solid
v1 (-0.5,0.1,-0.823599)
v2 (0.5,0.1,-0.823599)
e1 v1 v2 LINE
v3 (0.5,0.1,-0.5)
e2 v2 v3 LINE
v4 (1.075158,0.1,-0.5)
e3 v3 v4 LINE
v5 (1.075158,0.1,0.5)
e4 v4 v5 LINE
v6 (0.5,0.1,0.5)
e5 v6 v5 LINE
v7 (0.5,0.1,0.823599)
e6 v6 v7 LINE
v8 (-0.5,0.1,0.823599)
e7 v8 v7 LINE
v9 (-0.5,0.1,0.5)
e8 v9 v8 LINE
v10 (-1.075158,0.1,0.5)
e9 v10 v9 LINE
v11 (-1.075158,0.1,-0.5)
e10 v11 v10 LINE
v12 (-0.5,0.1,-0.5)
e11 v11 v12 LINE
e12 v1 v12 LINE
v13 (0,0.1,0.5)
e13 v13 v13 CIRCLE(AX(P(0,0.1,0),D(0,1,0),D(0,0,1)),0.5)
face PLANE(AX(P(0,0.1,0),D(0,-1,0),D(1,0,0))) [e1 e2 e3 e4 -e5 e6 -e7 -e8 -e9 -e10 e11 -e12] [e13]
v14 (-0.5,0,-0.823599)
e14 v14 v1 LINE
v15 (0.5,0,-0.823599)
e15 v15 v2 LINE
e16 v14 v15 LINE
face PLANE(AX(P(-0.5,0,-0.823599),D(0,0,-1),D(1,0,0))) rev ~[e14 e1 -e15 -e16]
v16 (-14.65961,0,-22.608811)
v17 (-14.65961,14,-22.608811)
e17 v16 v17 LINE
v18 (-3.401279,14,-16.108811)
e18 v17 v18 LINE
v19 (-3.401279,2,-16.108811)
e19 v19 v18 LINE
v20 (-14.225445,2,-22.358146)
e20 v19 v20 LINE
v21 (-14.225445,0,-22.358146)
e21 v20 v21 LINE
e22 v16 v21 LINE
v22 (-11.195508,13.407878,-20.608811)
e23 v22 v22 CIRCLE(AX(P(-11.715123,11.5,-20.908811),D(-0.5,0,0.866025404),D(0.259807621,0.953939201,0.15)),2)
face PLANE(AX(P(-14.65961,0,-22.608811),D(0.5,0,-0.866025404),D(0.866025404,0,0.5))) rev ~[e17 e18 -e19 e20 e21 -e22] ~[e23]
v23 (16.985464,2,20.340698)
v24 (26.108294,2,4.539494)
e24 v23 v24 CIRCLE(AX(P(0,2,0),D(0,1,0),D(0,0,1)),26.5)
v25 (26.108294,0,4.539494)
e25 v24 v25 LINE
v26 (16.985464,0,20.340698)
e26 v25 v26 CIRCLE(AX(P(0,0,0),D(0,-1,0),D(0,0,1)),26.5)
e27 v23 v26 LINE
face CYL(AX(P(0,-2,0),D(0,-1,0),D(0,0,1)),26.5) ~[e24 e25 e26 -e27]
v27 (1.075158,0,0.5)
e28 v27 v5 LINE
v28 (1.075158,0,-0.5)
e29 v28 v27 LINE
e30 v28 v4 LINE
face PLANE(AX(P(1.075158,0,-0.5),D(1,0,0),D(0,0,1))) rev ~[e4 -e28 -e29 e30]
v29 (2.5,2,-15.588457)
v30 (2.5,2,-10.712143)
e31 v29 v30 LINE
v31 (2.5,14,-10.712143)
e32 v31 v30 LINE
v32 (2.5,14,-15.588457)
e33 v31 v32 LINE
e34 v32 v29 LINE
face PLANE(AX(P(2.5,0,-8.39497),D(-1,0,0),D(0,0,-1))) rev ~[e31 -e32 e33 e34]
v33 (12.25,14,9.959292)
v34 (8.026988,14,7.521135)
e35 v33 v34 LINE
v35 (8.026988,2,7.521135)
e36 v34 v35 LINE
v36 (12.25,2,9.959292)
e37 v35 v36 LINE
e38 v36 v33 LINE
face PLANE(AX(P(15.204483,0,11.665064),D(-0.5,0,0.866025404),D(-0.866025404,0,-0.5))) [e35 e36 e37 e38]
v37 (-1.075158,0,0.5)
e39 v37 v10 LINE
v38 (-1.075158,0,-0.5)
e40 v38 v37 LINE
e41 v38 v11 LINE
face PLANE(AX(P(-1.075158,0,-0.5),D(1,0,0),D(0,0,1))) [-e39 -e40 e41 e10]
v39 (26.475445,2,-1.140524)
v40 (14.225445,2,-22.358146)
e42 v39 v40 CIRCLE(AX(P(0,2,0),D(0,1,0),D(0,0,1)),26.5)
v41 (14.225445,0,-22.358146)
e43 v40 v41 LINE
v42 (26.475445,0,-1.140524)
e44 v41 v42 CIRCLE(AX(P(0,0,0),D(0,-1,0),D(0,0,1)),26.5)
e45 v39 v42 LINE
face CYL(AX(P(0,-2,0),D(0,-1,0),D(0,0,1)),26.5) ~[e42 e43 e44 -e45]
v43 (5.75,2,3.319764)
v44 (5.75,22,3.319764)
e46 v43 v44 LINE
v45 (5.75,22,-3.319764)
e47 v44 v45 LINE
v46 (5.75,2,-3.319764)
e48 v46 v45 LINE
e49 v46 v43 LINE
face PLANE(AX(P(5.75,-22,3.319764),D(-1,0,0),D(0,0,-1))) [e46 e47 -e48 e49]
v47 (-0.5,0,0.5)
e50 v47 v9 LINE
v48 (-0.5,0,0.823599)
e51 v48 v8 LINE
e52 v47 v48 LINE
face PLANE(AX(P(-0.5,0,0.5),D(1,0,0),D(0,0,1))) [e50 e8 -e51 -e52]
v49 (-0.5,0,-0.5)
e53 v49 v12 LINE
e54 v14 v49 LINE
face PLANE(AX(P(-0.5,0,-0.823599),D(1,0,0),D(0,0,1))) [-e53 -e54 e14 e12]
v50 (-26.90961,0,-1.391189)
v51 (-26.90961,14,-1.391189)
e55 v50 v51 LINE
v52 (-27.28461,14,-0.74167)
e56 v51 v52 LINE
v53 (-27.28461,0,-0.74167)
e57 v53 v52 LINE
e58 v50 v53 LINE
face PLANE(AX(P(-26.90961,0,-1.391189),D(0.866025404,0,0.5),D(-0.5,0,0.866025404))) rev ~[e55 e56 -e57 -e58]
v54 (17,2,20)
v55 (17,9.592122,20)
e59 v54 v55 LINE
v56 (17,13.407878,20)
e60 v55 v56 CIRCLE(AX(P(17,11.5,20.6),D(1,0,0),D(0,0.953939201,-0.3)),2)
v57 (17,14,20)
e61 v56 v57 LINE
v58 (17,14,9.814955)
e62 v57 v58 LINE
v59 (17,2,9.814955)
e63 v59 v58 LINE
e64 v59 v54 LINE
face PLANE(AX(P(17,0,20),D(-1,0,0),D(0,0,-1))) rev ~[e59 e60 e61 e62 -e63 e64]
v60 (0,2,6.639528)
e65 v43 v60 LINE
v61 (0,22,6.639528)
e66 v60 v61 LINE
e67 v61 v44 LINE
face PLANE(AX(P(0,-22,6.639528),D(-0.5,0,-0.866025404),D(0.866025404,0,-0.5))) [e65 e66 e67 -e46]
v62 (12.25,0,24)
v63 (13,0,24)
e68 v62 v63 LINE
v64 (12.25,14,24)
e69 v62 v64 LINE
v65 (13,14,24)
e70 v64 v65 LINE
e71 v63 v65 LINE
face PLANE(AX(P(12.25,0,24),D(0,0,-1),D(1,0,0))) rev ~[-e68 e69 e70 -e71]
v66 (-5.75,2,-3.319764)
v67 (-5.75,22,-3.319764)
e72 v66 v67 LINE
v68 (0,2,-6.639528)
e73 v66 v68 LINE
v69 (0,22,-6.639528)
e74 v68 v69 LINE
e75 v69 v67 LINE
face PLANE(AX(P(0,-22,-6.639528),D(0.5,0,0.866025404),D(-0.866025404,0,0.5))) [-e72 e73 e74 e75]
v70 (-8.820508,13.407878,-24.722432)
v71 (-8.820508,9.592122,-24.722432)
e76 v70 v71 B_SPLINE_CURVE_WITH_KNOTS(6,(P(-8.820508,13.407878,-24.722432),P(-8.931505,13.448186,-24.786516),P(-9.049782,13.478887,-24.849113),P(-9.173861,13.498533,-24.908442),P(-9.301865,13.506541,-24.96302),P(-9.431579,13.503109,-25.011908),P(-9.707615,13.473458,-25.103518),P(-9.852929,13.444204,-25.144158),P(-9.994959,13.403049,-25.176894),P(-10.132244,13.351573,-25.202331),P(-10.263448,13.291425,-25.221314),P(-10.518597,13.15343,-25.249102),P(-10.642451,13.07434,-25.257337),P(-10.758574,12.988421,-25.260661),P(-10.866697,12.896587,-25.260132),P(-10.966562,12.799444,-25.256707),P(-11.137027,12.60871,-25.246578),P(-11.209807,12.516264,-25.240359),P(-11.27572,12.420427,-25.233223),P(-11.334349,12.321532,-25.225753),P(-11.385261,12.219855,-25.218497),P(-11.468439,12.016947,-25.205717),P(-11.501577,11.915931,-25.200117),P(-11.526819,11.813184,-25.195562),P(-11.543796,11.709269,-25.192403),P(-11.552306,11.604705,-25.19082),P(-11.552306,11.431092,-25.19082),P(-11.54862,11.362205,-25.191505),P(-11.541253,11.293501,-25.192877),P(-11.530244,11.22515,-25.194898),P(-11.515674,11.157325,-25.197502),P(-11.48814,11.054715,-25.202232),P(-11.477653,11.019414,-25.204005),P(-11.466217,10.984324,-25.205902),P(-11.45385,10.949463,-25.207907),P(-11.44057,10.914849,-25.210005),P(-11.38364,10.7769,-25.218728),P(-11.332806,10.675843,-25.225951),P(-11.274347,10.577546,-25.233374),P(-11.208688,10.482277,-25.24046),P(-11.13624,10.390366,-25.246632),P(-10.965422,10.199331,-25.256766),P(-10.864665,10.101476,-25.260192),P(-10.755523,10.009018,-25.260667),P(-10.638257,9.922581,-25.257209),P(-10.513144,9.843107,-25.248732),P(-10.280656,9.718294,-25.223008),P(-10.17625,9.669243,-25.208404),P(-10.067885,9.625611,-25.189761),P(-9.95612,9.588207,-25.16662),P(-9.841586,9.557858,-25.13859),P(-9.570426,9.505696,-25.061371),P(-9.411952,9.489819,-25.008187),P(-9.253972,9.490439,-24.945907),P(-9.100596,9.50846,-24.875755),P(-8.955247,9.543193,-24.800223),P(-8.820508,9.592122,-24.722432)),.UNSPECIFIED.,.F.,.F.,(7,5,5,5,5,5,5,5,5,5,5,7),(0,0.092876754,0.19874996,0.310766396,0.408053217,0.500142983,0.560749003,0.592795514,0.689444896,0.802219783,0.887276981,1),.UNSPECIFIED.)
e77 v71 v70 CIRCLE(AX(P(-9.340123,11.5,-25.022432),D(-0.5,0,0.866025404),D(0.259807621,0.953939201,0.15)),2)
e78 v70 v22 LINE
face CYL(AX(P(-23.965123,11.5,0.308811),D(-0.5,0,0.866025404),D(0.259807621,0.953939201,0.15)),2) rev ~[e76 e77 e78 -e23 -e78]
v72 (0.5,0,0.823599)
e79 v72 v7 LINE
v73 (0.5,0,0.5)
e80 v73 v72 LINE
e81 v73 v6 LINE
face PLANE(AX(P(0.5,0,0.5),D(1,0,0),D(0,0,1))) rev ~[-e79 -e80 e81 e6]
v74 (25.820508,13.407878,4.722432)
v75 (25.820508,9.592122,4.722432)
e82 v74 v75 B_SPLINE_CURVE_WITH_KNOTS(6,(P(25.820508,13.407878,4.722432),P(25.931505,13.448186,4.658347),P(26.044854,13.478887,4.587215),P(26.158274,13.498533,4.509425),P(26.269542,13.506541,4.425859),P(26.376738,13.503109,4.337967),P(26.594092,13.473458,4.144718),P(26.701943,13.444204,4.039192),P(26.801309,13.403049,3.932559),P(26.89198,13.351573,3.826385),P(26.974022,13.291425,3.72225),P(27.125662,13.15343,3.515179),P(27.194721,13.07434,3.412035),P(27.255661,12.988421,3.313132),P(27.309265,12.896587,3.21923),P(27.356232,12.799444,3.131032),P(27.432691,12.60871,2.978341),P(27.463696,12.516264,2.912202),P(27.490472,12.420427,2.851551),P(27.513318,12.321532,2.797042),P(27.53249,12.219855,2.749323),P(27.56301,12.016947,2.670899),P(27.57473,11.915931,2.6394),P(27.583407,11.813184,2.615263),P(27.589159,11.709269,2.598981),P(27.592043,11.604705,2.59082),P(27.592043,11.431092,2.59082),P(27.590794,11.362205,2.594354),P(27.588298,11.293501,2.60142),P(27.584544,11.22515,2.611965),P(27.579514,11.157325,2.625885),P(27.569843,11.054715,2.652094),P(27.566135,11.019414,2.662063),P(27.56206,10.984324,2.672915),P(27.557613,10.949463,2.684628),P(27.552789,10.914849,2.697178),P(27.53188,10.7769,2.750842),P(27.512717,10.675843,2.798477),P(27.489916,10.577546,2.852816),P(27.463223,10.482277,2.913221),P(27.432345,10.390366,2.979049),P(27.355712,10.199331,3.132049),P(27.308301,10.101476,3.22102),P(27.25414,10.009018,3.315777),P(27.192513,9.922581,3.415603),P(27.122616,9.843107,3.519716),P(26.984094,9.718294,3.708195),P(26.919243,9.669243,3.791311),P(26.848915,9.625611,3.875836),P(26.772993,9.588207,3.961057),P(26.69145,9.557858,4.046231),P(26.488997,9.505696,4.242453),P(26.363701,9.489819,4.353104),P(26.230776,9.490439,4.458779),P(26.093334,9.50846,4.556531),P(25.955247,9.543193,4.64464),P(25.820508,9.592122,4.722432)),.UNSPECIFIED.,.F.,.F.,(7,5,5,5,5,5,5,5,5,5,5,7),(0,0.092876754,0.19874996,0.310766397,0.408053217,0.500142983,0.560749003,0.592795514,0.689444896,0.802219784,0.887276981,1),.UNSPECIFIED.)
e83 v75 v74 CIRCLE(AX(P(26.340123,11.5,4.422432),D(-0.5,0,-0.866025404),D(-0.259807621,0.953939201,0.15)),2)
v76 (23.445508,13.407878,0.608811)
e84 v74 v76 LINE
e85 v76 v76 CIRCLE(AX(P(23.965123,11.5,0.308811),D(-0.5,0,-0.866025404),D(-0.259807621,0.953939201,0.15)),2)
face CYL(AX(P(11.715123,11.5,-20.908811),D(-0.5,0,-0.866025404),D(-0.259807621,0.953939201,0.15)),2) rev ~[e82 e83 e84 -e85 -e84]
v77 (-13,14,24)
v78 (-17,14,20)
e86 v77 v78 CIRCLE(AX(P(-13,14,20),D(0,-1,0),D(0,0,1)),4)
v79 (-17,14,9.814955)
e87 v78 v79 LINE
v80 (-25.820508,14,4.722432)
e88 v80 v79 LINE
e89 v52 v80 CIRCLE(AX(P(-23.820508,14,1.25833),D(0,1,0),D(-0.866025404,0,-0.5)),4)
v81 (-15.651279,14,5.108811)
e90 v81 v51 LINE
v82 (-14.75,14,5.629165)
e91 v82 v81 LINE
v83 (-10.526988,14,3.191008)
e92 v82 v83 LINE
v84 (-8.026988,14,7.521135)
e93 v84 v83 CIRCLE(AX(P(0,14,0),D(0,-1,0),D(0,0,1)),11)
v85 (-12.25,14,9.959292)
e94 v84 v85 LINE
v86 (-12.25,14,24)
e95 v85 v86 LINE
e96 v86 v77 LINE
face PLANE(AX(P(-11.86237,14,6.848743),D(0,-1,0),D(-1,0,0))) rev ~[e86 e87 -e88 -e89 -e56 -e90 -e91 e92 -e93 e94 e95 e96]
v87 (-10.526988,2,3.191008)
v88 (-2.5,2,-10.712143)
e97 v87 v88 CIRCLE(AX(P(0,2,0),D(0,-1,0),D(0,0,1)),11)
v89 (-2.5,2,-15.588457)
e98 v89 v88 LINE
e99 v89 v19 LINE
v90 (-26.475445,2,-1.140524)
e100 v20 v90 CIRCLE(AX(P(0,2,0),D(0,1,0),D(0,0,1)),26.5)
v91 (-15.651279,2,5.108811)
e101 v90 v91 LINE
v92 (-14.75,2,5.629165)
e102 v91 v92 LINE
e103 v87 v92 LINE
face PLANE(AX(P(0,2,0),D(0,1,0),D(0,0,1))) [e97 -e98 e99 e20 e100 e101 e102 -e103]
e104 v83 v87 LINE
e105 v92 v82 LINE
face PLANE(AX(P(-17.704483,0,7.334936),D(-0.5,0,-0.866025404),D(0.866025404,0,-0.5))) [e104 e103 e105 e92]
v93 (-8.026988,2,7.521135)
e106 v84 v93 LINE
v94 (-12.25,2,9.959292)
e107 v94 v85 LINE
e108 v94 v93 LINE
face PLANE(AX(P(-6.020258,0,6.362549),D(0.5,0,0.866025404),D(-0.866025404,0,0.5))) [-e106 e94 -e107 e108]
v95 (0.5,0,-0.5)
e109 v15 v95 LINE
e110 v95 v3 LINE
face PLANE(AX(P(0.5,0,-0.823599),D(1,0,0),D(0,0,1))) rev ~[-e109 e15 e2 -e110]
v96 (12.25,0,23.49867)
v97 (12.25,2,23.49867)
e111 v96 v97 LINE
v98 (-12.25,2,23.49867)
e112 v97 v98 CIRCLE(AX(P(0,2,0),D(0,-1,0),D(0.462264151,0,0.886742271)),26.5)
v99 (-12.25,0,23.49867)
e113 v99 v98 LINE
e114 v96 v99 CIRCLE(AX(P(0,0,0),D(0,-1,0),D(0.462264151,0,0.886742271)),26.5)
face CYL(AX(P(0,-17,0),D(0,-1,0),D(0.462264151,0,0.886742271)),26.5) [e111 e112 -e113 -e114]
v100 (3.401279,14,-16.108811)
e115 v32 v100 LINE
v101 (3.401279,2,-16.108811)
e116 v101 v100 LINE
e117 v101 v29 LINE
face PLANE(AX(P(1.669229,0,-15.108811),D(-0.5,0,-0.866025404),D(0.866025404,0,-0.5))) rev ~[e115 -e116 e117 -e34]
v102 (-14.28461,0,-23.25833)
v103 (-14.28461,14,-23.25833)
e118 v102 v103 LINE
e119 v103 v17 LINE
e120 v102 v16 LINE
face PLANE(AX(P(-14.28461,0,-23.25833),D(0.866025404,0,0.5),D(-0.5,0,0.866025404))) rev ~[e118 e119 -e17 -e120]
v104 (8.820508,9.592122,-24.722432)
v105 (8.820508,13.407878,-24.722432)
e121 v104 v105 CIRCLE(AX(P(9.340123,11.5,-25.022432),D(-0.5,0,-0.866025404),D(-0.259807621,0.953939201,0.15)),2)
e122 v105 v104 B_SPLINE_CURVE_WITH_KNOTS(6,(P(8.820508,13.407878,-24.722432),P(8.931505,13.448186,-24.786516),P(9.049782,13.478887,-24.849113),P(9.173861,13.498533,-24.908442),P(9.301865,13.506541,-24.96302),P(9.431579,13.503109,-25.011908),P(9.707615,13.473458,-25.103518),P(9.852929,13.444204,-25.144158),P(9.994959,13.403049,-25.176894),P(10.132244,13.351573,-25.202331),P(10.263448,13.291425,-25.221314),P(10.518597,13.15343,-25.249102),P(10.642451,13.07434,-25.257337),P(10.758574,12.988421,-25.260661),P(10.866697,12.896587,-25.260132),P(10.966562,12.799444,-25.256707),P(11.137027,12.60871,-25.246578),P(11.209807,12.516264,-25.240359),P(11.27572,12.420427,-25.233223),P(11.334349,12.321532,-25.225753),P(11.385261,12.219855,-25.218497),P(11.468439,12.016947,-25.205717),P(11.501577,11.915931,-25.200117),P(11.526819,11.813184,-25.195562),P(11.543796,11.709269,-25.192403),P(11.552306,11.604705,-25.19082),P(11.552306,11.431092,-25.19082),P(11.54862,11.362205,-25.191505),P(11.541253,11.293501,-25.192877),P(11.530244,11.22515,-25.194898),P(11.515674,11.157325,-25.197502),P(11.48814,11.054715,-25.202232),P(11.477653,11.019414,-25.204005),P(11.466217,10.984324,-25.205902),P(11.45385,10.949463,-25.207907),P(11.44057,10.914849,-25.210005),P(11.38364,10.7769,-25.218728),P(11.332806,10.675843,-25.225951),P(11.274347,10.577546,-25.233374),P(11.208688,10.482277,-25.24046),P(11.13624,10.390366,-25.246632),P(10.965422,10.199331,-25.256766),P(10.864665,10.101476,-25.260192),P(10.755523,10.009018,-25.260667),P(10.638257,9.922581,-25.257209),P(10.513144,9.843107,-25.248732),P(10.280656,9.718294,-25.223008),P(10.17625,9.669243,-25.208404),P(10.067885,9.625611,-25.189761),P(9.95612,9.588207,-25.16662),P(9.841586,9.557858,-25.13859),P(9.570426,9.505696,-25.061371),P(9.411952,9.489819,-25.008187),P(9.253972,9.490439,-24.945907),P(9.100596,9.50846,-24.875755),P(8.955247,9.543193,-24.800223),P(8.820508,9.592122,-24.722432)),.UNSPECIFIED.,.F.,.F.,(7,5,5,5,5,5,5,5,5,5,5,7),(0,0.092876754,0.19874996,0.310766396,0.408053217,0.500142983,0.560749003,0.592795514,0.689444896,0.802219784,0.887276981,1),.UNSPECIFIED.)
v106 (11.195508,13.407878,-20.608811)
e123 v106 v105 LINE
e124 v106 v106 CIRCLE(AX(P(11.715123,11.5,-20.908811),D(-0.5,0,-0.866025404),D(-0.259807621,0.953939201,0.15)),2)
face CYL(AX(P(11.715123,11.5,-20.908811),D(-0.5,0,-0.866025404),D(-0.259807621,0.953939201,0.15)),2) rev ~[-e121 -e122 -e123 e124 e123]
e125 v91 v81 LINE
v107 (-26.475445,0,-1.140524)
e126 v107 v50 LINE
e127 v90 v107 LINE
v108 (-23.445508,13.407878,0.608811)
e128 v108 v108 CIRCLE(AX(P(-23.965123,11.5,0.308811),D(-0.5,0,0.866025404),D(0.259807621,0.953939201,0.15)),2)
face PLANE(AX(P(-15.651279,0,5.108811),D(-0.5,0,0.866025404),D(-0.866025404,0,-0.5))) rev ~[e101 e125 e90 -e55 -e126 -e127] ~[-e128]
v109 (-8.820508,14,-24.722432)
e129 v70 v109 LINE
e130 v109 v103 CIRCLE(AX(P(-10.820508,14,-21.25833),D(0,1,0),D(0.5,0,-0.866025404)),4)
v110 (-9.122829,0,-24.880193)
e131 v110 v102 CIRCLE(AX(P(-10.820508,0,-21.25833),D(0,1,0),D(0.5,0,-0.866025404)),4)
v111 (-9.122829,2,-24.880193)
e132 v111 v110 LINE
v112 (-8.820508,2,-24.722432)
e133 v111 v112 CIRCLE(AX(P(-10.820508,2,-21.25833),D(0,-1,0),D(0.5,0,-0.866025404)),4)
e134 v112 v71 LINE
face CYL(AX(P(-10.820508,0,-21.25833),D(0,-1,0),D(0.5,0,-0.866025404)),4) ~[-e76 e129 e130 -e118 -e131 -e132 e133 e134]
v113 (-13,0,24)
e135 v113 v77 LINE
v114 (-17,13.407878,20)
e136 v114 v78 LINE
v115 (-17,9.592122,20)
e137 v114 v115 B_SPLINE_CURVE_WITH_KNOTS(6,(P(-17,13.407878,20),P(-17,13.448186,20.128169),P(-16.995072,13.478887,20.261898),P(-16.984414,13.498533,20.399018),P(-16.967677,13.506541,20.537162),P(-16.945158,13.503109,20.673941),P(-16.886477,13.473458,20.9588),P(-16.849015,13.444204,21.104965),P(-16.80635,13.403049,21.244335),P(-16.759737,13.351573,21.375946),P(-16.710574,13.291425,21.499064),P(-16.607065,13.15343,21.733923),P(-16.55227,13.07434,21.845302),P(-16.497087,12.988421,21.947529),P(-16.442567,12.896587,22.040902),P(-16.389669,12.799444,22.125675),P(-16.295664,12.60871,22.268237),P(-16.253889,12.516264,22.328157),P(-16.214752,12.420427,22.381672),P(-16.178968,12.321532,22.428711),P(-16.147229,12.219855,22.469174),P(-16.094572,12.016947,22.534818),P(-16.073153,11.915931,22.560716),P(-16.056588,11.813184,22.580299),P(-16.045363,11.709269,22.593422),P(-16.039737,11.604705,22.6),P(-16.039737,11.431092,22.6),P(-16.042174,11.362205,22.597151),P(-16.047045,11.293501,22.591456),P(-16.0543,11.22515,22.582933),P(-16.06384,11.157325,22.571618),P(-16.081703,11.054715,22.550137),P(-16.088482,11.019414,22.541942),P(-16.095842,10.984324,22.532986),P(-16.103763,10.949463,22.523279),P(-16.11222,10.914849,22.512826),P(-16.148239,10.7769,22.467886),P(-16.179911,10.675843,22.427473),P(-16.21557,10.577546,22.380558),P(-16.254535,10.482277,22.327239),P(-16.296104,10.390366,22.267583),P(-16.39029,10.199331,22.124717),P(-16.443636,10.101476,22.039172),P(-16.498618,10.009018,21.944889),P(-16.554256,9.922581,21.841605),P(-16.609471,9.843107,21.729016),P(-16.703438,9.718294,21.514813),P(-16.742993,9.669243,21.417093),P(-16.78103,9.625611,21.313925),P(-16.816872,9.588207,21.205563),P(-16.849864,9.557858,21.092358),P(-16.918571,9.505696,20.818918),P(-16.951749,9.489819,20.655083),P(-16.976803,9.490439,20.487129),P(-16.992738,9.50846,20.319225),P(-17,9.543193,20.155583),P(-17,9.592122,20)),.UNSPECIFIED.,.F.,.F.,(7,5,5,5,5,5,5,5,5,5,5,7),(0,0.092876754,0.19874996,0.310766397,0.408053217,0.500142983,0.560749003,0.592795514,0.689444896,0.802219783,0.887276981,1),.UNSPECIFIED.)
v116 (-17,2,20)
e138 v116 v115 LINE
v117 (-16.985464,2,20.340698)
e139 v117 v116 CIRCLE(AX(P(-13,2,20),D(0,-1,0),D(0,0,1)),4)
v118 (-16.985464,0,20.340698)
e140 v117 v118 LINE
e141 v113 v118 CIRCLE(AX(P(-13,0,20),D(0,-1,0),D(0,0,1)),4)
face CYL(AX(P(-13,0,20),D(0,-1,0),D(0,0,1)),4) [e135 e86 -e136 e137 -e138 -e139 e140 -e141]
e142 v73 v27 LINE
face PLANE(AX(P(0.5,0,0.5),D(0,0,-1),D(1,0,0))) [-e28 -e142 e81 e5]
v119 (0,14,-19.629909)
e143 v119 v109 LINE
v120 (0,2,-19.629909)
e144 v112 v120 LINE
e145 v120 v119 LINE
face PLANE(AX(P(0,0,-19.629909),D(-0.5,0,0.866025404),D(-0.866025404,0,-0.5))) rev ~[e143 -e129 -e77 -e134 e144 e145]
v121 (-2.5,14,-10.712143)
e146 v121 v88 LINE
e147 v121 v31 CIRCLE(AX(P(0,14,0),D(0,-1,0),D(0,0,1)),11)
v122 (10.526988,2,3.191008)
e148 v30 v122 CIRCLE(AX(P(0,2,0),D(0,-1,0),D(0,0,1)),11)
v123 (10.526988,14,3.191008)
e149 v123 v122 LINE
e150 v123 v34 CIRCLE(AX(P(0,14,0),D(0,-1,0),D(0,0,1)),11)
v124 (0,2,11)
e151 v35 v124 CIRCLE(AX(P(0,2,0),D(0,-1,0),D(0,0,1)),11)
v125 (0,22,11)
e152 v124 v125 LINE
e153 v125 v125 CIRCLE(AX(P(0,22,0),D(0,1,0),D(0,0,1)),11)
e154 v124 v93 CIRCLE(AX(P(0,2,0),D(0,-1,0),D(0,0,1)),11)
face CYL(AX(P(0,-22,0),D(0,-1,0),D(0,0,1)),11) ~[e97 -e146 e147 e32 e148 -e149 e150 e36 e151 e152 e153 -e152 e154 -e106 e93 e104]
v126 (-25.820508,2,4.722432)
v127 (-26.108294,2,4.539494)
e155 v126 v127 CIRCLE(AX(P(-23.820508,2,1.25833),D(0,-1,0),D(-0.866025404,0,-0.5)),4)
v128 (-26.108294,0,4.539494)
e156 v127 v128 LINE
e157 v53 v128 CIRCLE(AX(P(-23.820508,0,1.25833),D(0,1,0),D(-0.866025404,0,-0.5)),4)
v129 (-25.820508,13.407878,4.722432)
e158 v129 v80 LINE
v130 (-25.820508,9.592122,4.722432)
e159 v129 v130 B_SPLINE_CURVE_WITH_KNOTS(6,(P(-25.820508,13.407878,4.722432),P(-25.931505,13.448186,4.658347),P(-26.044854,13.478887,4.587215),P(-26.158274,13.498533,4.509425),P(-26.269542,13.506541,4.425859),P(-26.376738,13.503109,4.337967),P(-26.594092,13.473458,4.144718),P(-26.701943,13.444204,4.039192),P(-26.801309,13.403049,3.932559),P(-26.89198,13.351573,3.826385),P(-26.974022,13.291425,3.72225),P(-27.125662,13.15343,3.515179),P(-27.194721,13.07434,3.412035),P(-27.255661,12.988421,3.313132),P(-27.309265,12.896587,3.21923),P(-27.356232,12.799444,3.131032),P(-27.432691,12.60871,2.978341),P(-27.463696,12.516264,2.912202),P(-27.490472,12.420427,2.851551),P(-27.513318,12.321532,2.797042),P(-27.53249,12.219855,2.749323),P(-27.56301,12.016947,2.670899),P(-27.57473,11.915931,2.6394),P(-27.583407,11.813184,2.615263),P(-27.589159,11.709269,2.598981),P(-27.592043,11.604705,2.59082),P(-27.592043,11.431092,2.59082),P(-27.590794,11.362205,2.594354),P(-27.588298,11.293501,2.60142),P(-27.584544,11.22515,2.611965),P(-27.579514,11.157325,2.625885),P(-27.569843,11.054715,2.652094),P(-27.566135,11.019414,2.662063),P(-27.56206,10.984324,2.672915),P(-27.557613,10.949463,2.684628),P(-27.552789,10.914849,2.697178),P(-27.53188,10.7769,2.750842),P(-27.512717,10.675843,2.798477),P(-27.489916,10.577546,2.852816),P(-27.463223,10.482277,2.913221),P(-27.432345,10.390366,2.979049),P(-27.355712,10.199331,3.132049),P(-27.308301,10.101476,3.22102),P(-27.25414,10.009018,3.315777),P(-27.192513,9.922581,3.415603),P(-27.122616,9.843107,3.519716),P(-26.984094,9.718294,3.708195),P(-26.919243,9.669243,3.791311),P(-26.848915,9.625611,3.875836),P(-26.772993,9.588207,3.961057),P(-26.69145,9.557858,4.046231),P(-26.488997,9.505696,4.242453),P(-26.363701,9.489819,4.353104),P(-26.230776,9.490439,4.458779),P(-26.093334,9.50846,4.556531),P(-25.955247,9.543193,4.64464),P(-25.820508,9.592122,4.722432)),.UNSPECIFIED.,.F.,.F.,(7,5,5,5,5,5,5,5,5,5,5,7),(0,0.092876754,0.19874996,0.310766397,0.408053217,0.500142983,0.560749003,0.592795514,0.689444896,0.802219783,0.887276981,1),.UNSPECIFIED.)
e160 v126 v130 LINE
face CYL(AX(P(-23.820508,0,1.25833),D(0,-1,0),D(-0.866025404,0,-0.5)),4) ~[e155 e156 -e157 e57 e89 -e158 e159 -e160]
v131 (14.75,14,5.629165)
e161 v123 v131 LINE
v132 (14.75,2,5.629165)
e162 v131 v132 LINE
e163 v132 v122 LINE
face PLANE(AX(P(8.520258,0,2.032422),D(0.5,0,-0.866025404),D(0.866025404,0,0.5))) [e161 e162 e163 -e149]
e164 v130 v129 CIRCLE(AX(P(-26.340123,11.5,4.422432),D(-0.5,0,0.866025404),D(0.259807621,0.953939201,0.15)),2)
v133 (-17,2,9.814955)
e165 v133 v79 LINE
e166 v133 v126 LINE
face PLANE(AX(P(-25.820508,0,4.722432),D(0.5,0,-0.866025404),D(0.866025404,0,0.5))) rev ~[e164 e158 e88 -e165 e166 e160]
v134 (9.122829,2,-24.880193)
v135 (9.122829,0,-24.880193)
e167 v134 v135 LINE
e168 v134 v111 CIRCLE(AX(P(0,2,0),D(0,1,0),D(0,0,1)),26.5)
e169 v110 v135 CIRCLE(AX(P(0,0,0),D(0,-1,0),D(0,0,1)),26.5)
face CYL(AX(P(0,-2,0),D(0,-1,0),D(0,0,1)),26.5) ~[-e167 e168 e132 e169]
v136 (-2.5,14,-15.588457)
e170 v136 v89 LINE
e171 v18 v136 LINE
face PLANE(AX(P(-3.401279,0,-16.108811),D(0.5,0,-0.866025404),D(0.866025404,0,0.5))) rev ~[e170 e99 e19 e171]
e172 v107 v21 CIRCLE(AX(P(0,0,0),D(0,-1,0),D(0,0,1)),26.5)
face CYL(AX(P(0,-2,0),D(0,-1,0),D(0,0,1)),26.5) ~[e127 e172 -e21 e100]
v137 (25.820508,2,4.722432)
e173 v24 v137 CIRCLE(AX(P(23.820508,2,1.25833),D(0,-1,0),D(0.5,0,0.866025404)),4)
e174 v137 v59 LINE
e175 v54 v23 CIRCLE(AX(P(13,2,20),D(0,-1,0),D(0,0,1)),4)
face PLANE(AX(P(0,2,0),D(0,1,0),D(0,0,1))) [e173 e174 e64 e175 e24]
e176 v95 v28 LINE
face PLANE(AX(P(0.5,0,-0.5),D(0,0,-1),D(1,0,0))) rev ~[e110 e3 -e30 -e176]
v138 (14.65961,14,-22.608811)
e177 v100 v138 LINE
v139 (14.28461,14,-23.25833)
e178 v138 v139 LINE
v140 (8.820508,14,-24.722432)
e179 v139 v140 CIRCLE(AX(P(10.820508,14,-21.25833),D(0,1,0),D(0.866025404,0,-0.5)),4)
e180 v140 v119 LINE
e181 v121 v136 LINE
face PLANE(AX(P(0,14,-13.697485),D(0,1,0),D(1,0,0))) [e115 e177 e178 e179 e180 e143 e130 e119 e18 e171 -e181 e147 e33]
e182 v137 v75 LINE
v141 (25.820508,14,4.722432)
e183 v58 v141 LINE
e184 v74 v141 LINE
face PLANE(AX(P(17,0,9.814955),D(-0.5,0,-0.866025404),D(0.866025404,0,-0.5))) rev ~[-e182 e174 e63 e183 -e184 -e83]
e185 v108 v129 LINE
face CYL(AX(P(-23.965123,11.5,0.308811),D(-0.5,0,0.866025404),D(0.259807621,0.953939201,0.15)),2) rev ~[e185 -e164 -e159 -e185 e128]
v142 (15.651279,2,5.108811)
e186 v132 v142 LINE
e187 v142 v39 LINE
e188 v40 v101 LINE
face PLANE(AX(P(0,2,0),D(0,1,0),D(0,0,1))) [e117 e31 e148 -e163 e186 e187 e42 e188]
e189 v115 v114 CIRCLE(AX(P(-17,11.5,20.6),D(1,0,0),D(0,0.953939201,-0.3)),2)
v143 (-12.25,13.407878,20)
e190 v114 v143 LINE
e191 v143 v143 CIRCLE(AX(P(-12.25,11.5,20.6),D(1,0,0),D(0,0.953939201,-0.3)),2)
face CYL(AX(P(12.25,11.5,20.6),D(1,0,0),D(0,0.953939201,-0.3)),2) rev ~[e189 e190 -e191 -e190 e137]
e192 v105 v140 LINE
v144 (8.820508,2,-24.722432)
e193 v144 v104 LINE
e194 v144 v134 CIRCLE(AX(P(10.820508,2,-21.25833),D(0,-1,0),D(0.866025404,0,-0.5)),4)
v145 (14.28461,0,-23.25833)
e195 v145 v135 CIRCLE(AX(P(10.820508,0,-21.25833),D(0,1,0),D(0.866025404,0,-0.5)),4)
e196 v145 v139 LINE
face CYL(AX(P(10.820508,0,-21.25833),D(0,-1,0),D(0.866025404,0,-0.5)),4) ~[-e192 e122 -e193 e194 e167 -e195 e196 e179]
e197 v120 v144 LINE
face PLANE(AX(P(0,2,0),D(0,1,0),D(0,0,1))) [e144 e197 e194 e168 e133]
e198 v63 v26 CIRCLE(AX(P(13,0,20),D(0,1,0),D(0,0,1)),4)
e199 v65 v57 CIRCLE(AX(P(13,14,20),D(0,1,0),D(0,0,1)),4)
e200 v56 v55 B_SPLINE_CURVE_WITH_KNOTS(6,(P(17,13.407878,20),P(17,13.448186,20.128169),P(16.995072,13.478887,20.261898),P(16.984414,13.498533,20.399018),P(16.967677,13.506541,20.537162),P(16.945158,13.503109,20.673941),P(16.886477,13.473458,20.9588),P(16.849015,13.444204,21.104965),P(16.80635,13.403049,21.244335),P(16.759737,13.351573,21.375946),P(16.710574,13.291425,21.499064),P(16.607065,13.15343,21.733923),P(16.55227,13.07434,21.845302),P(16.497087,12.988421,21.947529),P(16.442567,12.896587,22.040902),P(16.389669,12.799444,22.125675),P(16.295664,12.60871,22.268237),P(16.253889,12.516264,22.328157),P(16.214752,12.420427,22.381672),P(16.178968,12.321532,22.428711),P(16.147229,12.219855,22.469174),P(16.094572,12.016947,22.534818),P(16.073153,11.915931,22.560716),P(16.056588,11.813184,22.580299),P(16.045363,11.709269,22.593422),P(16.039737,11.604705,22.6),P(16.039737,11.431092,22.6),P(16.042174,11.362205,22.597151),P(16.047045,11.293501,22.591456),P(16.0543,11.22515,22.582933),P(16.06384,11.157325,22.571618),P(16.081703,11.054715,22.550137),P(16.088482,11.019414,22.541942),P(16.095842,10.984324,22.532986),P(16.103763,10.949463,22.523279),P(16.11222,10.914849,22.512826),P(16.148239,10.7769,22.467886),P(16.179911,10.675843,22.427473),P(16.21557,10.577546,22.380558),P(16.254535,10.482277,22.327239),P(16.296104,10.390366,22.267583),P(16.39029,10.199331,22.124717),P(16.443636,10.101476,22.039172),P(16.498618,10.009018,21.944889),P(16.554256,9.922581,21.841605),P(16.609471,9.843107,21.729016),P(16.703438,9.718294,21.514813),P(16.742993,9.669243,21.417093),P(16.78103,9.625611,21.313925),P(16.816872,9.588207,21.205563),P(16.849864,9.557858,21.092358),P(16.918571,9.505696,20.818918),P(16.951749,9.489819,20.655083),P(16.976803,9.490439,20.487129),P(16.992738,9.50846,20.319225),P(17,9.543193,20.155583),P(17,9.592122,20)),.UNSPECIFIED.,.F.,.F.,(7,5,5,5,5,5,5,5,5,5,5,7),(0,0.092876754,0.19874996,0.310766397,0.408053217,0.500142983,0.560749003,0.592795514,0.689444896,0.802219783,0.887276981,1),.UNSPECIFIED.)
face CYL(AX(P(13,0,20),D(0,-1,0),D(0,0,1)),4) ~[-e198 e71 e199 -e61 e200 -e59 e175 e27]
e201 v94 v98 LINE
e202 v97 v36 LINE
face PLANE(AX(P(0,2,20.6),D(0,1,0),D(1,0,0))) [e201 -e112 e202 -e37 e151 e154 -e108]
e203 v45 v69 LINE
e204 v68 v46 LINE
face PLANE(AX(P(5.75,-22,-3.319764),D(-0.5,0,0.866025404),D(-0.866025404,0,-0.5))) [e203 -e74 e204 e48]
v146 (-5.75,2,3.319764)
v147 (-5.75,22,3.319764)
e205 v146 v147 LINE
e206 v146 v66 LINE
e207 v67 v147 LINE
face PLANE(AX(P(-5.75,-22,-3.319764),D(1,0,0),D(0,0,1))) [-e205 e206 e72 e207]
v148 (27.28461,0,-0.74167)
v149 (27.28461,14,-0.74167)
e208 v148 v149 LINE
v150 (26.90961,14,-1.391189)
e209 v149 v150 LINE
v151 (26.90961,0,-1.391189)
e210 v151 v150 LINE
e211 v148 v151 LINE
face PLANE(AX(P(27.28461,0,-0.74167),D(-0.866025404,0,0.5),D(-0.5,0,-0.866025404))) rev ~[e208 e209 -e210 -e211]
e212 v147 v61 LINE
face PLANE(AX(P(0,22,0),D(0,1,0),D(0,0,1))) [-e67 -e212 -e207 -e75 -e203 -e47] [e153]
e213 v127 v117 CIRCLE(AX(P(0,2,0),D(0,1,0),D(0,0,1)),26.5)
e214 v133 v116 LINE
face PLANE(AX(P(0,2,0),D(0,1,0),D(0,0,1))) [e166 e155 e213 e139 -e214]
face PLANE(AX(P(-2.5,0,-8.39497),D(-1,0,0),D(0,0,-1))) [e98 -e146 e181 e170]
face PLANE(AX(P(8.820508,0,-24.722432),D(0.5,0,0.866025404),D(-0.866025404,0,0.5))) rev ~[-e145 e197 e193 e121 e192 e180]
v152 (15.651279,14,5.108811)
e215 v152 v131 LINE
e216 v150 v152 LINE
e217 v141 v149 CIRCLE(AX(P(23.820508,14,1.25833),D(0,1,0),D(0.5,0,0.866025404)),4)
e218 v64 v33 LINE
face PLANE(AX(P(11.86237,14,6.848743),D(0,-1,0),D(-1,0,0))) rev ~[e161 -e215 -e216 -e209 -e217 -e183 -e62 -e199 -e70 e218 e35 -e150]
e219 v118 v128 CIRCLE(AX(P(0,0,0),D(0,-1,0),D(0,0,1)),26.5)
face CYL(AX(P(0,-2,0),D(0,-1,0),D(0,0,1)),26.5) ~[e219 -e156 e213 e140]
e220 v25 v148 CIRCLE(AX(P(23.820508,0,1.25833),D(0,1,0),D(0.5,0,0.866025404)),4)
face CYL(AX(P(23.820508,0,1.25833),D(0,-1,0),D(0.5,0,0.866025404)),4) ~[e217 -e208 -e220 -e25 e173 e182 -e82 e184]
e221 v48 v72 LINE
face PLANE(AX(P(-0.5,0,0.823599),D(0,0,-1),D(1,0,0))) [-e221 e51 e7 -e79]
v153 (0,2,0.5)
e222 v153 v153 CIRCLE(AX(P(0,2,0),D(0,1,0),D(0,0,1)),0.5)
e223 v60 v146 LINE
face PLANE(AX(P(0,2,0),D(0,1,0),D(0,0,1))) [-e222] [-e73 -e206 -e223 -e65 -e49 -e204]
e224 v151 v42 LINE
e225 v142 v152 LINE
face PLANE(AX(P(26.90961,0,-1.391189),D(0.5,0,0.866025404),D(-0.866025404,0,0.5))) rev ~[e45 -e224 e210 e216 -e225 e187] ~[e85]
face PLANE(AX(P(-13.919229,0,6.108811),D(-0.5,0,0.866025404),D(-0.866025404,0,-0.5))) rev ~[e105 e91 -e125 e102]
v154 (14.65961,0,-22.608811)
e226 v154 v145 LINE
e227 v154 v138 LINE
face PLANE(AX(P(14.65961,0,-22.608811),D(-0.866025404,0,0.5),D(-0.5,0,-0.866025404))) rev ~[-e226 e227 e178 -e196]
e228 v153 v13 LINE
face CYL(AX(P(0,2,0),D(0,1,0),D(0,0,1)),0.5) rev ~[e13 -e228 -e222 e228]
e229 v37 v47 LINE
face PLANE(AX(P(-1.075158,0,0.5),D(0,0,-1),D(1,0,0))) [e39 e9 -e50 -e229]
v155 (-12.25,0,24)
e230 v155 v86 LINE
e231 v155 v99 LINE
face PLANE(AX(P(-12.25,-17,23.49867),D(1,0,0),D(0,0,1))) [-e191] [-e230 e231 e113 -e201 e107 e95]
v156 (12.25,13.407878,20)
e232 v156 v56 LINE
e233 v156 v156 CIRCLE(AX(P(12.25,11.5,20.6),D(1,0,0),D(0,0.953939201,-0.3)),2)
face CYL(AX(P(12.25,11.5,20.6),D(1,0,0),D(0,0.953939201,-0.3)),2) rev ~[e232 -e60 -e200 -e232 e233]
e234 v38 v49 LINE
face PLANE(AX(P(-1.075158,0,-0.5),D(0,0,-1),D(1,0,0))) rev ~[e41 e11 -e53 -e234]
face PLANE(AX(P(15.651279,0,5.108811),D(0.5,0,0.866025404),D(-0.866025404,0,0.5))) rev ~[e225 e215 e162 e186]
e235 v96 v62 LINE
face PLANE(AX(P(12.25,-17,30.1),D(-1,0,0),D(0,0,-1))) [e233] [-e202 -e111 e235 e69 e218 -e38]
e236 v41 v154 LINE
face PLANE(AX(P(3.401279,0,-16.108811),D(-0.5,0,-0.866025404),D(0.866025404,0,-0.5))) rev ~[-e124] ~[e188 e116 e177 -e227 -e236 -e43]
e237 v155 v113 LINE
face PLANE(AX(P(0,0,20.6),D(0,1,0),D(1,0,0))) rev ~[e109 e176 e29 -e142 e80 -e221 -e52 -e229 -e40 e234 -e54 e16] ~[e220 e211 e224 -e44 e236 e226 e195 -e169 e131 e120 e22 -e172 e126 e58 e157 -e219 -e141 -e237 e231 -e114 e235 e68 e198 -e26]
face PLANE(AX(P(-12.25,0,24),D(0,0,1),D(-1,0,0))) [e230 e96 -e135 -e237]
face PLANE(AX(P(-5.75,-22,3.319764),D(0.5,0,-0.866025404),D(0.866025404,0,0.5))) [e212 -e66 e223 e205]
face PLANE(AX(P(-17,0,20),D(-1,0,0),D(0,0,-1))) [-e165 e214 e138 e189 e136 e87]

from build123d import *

# Parameters (mm, degrees)
SALIENTE_EXTRUIR1_DEPTH      = 2
SALIENTE_EXTRUIR1_DEPTH_BACK = 2
CROQUIS2_R                   = 26.5
SALIENTE_EXTRUIR2_DEPTH      = 22
SALIENTE_EXTRUIR2_DEPTH_BACK = 22
CROQUIS3_R                   = 11
CROQUIS5_W                   = 5
CROQUIS5_H                   = 10.605029608
SALIENTE_EXTRUIR3_DEPTH      = 14
SALIENTE_EXTRUIR5_DEPTH      = 14
CROQUIS7_W                   = 24.5
CROQUIS7_H                   = 19
SALIENTE_EXTRUIR12_DEPTH     = 21
CROQUIS8_R                   = 2
CORTAR_EXTRUIR1_DEPTH        = 37
CROQUIS10_W                  = 24.5
CROQUIS10_H                  = 19
CORTAR_EXTRUIR2_DEPTH        = 19
MATRIZC2_COUNT               = 3
CORTAR_EXTRUIR3_START        = -19
CORTAR_EXTRUIR3_DEPTH        = 19
CORTAR_EXTRUIR5_DEPTH        = 33
CORTAR_EXTRUIR5_DEPTH_BACK   = 33
CROQUIS15_W                  = 59.132564764
CROQUIS15_H                  = 24.236023023
CROQUIS16_R                  = 0.5
CORTAR_EXTRUIR6_DEPTH        = 10
CORTAR_EXTRUIR8_START        = -0.1
CROQUIS17_R                  = 0.5
CORTAR_EXTRUIR8_DEPTH        = 0.1


with BuildPart() as part:
    # Croquis2 → Saliente-Extruir1 (new, two sides: drawn at the far end of the back side and taken through both)
    with BuildSketch(Plane(origin=(0, 0, 0), x_dir=(1, 0, 0), z_dir=(0, 1, 0)).offset(-SALIENTE_EXTRUIR1_DEPTH_BACK)):
        Circle(CROQUIS2_R)
    extrude(amount=SALIENTE_EXTRUIR1_DEPTH + SALIENTE_EXTRUIR1_DEPTH_BACK)

    # Croquis3 → Saliente-Extruir2 (add, two sides: drawn at the far end of the back side and taken through both)
    with BuildSketch(Plane(origin=(0, 0, 0), x_dir=(1, 0, 0), z_dir=(0, 1, 0)).offset(-SALIENTE_EXTRUIR2_DEPTH_BACK)):
        Circle(CROQUIS3_R)
        Polygon((0, 6.639528096), (-5.75, 3.319764048), (-5.75, -3.319764048), (0, -6.639528096), (5.75, -3.319764048), (5.75, 3.319764048), align=None, mode=Mode.SUBTRACT)
    extrude(amount=SALIENTE_EXTRUIR2_DEPTH + SALIENTE_EXTRUIR2_DEPTH_BACK)

    # Croquis5 → Saliente-Extruir3 (add)
    with BuildSketch(Plane(origin=(0, 0, 0), x_dir=(1, 0, 0), z_dir=(0, 1, 0))):
        with Locations((0, 13.697485196)):
            Rectangle(CROQUIS5_W, CROQUIS5_H)
        Polygon((8.520257623, -2.032421687), (17.704482672, -7.334936491), (15.204482672, -11.665063509), (6.020257623, -6.362548705), align=None)
        Polygon((-6.020257623, -6.362548705), (-15.204482672, -11.665063509), (-17.704482672, -7.334936491), (-8.520257623, -2.032421687), align=None)
    extrude(amount=SALIENTE_EXTRUIR3_DEPTH)

    # Croquis6 → Saliente-Extruir5 (add)
    with BuildSketch(Plane(origin=(0, 0, 0), x_dir=(1, 0, 0), z_dir=(0, 1, 0))):
        with BuildLine():
            Line((-12.25, -11), (-12.25, -24))
            Line((-12.25, -24), (-13, -24))
            ThreePointArc((-13, -24), (-15.828427125, -22.828427125), (-17, -20))
            Line((-17, -20), (-17, -9))
            Line((-17, -9), (-12.25, -9))
            Line((-12.25, -9), (-12.25, -11))
        make_face()
        with BuildLine():
            Line((12.25, -11), (12.25, -24))
            Line((12.25, -24), (13, -24))
            ThreePointArc((13, -24), (15.828427125, -22.828427125), (17, -20))
            Line((17, -20), (17, -9))
            Line((17, -9), (12.25, -9))
            Line((12.25, -9), (12.25, -11))
        make_face()
        with BuildLine():
            Line((-1.669228634, 15.108811196), (0.705771366, 19.222431864))
            Line((0.705771366, 19.222431864), (-8.820508076, 24.722431864))
            ThreePointArc((-8.820508076, 24.722431864), (-11.855784256, 25.122033554), (-14.284609691, 23.258330249))
            Line((-14.284609691, 23.258330249), (-14.659609691, 22.608811196))
            Line((-14.659609691, 22.608811196), (-3.401279442, 16.108811196))
            Line((-3.401279442, 16.108811196), (-1.669228634, 15.108811196))
        make_face()
        with BuildLine():
            Line((-15.651279442, -5.108811196), (-26.909609691, 1.391188804))
            Line((-26.909609691, 1.391188804), (-27.284609691, 0.741669751))
            ThreePointArc((-27.284609691, 0.741669751), (-27.684211381, -2.29360643), (-25.820508076, -4.722431864))
            Line((-25.820508076, -4.722431864), (-16.294228634, -10.222431864))
            Line((-16.294228634, -10.222431864), (-13.919228634, -6.108811196))
            Line((-13.919228634, -6.108811196), (-15.651279442, -5.108811196))
        make_face()
        with BuildLine():
            Line((13.919228634, -6.108811196), (16.294228634, -10.222431864))
            Line((16.294228634, -10.222431864), (25.820508076, -4.722431864))
            ThreePointArc((25.820508076, -4.722431864), (27.684211381, -2.29360643), (27.284609691, 0.741669751))
            Line((27.284609691, 0.741669751), (26.909609691, 1.391188804))
            Line((26.909609691, 1.391188804), (15.651279442, -5.108811196))
            Line((15.651279442, -5.108811196), (13.919228634, -6.108811196))
        make_face()
        with BuildLine():
            Line((3.401279442, 16.108811196), (14.659609691, 22.608811196))
            Line((14.659609691, 22.608811196), (14.284609691, 23.258330249))
            ThreePointArc((14.284609691, 23.258330249), (11.855784256, 25.122033554), (8.820508076, 24.722431864))
            Line((8.820508076, 24.722431864), (-0.705771366, 19.222431864))
            Line((-0.705771366, 19.222431864), (1.669228634, 15.108811196))
            Line((1.669228634, 15.108811196), (3.401279442, 16.108811196))
        make_face()
    extrude(amount=SALIENTE_EXTRUIR5_DEPTH)

    # Croquis7 → Saliente-Extruir12 (add)
    with BuildSketch(Plane(origin=(0, 0, 0), x_dir=(1, 0, 0), z_dir=(0, 1, 0))):
        with Locations((0, -20.6)):
            Rectangle(CROQUIS7_W, CROQUIS7_H)
    extrude(amount=SALIENTE_EXTRUIR12_DEPTH)

    # Croquis8 → Cortar-Extruir1 (cut, symmetric)
    with BuildSketch(Plane(origin=(12.25, 0, 0), x_dir=(0, 0, -1), z_dir=(1, 0, 0))):
        with Locations((-20.6, 11.5)):
            Circle(CROQUIS8_R)
    cortar_extruir1 = extrude(amount=CORTAR_EXTRUIR1_DEPTH, both=True, mode=Mode.SUBTRACT)

    # Croquis10 → Cortar-Extruir2 (cut)
    with BuildSketch(Plane(origin=(0, 21, 0), x_dir=(1, 0, 0), z_dir=(0, 1, 0))):
        with Locations((0, -20.6)):
            Rectangle(CROQUIS10_W, CROQUIS10_H)
    extrude(amount=-CORTAR_EXTRUIR2_DEPTH, mode=Mode.SUBTRACT)

    # MatrizC2: Cortar-Extruir1 ×3 about axis
    matrizc2_axis = Axis((0, -24.2, 0), (0, 1, 0))
    for i in range(1, MATRIZC2_COUNT):
        add(cortar_extruir1.rotate(matrizc2_axis, i * 360 / MATRIZC2_COUNT), mode=Mode.SUBTRACT)

    # Croquis14 → Cortar-Extruir3 (cut)
    with BuildSketch(Plane(origin=(0, 2, 0), x_dir=(1, 0, 0), z_dir=(0, 1, 0)).offset(CORTAR_EXTRUIR3_START)):
        with BuildLine():
            Line((-12.25, -24), (-12.25, -30.1))
            Line((-12.25, -30.1), (12.25, -30.1))
            Line((12.25, -30.1), (12.25, -24))
            Line((12.25, -24), (12.25, -23.498670175))
            ThreePointArc((12.25, -23.498670175), (0, -26.5), (-12.25, -23.498670175))
            Line((-12.25, -23.498670175), (-12.25, -24))
        make_face()
    extrude(amount=CORTAR_EXTRUIR3_DEPTH, mode=Mode.SUBTRACT)

    # Croquis15 → Cortar-Extruir5 (cut, two sides: drawn at the far end of the back side and taken through both)
    with BuildSketch(Plane.XY.offset(-CORTAR_EXTRUIR5_DEPTH_BACK)):
        with Locations((-0.66628242, -12.118011512)):
            Rectangle(CROQUIS15_W, CROQUIS15_H)
    extrude(amount=CORTAR_EXTRUIR5_DEPTH + CORTAR_EXTRUIR5_DEPTH_BACK, mode=Mode.SUBTRACT)

    # Croquis16 → Cortar-Extruir6 (cut)
    with BuildSketch(Plane(origin=(0, 2, 0), x_dir=(1, 0, 0), z_dir=(0, 1, 0))):
        Circle(CROQUIS16_R)
    extrude(amount=-CORTAR_EXTRUIR6_DEPTH, mode=Mode.SUBTRACT)

    # Croquis17 → Cortar-Extruir8 (cut)
    with BuildSketch(Plane.XZ.offset(CORTAR_EXTRUIR8_START)):
        Polygon((-1.075157711, 0.5), (-1.075157711, -0.5), (-0.5, -0.5), (-0.5, -0.823598898), (0.5, -0.823598898), (0.5, -0.5), (1.075157711, -0.5), (1.075157711, 0.5), (0.5, 0.5), (0.5, 0.823598898), (-0.5, 0.823598898), (-0.5, 0.5), align=None)
        Circle(CROQUIS17_R, mode=Mode.SUBTRACT)
    extrude(amount=CORTAR_EXTRUIR8_DEPTH, mode=Mode.SUBTRACT)


solid = part.part
